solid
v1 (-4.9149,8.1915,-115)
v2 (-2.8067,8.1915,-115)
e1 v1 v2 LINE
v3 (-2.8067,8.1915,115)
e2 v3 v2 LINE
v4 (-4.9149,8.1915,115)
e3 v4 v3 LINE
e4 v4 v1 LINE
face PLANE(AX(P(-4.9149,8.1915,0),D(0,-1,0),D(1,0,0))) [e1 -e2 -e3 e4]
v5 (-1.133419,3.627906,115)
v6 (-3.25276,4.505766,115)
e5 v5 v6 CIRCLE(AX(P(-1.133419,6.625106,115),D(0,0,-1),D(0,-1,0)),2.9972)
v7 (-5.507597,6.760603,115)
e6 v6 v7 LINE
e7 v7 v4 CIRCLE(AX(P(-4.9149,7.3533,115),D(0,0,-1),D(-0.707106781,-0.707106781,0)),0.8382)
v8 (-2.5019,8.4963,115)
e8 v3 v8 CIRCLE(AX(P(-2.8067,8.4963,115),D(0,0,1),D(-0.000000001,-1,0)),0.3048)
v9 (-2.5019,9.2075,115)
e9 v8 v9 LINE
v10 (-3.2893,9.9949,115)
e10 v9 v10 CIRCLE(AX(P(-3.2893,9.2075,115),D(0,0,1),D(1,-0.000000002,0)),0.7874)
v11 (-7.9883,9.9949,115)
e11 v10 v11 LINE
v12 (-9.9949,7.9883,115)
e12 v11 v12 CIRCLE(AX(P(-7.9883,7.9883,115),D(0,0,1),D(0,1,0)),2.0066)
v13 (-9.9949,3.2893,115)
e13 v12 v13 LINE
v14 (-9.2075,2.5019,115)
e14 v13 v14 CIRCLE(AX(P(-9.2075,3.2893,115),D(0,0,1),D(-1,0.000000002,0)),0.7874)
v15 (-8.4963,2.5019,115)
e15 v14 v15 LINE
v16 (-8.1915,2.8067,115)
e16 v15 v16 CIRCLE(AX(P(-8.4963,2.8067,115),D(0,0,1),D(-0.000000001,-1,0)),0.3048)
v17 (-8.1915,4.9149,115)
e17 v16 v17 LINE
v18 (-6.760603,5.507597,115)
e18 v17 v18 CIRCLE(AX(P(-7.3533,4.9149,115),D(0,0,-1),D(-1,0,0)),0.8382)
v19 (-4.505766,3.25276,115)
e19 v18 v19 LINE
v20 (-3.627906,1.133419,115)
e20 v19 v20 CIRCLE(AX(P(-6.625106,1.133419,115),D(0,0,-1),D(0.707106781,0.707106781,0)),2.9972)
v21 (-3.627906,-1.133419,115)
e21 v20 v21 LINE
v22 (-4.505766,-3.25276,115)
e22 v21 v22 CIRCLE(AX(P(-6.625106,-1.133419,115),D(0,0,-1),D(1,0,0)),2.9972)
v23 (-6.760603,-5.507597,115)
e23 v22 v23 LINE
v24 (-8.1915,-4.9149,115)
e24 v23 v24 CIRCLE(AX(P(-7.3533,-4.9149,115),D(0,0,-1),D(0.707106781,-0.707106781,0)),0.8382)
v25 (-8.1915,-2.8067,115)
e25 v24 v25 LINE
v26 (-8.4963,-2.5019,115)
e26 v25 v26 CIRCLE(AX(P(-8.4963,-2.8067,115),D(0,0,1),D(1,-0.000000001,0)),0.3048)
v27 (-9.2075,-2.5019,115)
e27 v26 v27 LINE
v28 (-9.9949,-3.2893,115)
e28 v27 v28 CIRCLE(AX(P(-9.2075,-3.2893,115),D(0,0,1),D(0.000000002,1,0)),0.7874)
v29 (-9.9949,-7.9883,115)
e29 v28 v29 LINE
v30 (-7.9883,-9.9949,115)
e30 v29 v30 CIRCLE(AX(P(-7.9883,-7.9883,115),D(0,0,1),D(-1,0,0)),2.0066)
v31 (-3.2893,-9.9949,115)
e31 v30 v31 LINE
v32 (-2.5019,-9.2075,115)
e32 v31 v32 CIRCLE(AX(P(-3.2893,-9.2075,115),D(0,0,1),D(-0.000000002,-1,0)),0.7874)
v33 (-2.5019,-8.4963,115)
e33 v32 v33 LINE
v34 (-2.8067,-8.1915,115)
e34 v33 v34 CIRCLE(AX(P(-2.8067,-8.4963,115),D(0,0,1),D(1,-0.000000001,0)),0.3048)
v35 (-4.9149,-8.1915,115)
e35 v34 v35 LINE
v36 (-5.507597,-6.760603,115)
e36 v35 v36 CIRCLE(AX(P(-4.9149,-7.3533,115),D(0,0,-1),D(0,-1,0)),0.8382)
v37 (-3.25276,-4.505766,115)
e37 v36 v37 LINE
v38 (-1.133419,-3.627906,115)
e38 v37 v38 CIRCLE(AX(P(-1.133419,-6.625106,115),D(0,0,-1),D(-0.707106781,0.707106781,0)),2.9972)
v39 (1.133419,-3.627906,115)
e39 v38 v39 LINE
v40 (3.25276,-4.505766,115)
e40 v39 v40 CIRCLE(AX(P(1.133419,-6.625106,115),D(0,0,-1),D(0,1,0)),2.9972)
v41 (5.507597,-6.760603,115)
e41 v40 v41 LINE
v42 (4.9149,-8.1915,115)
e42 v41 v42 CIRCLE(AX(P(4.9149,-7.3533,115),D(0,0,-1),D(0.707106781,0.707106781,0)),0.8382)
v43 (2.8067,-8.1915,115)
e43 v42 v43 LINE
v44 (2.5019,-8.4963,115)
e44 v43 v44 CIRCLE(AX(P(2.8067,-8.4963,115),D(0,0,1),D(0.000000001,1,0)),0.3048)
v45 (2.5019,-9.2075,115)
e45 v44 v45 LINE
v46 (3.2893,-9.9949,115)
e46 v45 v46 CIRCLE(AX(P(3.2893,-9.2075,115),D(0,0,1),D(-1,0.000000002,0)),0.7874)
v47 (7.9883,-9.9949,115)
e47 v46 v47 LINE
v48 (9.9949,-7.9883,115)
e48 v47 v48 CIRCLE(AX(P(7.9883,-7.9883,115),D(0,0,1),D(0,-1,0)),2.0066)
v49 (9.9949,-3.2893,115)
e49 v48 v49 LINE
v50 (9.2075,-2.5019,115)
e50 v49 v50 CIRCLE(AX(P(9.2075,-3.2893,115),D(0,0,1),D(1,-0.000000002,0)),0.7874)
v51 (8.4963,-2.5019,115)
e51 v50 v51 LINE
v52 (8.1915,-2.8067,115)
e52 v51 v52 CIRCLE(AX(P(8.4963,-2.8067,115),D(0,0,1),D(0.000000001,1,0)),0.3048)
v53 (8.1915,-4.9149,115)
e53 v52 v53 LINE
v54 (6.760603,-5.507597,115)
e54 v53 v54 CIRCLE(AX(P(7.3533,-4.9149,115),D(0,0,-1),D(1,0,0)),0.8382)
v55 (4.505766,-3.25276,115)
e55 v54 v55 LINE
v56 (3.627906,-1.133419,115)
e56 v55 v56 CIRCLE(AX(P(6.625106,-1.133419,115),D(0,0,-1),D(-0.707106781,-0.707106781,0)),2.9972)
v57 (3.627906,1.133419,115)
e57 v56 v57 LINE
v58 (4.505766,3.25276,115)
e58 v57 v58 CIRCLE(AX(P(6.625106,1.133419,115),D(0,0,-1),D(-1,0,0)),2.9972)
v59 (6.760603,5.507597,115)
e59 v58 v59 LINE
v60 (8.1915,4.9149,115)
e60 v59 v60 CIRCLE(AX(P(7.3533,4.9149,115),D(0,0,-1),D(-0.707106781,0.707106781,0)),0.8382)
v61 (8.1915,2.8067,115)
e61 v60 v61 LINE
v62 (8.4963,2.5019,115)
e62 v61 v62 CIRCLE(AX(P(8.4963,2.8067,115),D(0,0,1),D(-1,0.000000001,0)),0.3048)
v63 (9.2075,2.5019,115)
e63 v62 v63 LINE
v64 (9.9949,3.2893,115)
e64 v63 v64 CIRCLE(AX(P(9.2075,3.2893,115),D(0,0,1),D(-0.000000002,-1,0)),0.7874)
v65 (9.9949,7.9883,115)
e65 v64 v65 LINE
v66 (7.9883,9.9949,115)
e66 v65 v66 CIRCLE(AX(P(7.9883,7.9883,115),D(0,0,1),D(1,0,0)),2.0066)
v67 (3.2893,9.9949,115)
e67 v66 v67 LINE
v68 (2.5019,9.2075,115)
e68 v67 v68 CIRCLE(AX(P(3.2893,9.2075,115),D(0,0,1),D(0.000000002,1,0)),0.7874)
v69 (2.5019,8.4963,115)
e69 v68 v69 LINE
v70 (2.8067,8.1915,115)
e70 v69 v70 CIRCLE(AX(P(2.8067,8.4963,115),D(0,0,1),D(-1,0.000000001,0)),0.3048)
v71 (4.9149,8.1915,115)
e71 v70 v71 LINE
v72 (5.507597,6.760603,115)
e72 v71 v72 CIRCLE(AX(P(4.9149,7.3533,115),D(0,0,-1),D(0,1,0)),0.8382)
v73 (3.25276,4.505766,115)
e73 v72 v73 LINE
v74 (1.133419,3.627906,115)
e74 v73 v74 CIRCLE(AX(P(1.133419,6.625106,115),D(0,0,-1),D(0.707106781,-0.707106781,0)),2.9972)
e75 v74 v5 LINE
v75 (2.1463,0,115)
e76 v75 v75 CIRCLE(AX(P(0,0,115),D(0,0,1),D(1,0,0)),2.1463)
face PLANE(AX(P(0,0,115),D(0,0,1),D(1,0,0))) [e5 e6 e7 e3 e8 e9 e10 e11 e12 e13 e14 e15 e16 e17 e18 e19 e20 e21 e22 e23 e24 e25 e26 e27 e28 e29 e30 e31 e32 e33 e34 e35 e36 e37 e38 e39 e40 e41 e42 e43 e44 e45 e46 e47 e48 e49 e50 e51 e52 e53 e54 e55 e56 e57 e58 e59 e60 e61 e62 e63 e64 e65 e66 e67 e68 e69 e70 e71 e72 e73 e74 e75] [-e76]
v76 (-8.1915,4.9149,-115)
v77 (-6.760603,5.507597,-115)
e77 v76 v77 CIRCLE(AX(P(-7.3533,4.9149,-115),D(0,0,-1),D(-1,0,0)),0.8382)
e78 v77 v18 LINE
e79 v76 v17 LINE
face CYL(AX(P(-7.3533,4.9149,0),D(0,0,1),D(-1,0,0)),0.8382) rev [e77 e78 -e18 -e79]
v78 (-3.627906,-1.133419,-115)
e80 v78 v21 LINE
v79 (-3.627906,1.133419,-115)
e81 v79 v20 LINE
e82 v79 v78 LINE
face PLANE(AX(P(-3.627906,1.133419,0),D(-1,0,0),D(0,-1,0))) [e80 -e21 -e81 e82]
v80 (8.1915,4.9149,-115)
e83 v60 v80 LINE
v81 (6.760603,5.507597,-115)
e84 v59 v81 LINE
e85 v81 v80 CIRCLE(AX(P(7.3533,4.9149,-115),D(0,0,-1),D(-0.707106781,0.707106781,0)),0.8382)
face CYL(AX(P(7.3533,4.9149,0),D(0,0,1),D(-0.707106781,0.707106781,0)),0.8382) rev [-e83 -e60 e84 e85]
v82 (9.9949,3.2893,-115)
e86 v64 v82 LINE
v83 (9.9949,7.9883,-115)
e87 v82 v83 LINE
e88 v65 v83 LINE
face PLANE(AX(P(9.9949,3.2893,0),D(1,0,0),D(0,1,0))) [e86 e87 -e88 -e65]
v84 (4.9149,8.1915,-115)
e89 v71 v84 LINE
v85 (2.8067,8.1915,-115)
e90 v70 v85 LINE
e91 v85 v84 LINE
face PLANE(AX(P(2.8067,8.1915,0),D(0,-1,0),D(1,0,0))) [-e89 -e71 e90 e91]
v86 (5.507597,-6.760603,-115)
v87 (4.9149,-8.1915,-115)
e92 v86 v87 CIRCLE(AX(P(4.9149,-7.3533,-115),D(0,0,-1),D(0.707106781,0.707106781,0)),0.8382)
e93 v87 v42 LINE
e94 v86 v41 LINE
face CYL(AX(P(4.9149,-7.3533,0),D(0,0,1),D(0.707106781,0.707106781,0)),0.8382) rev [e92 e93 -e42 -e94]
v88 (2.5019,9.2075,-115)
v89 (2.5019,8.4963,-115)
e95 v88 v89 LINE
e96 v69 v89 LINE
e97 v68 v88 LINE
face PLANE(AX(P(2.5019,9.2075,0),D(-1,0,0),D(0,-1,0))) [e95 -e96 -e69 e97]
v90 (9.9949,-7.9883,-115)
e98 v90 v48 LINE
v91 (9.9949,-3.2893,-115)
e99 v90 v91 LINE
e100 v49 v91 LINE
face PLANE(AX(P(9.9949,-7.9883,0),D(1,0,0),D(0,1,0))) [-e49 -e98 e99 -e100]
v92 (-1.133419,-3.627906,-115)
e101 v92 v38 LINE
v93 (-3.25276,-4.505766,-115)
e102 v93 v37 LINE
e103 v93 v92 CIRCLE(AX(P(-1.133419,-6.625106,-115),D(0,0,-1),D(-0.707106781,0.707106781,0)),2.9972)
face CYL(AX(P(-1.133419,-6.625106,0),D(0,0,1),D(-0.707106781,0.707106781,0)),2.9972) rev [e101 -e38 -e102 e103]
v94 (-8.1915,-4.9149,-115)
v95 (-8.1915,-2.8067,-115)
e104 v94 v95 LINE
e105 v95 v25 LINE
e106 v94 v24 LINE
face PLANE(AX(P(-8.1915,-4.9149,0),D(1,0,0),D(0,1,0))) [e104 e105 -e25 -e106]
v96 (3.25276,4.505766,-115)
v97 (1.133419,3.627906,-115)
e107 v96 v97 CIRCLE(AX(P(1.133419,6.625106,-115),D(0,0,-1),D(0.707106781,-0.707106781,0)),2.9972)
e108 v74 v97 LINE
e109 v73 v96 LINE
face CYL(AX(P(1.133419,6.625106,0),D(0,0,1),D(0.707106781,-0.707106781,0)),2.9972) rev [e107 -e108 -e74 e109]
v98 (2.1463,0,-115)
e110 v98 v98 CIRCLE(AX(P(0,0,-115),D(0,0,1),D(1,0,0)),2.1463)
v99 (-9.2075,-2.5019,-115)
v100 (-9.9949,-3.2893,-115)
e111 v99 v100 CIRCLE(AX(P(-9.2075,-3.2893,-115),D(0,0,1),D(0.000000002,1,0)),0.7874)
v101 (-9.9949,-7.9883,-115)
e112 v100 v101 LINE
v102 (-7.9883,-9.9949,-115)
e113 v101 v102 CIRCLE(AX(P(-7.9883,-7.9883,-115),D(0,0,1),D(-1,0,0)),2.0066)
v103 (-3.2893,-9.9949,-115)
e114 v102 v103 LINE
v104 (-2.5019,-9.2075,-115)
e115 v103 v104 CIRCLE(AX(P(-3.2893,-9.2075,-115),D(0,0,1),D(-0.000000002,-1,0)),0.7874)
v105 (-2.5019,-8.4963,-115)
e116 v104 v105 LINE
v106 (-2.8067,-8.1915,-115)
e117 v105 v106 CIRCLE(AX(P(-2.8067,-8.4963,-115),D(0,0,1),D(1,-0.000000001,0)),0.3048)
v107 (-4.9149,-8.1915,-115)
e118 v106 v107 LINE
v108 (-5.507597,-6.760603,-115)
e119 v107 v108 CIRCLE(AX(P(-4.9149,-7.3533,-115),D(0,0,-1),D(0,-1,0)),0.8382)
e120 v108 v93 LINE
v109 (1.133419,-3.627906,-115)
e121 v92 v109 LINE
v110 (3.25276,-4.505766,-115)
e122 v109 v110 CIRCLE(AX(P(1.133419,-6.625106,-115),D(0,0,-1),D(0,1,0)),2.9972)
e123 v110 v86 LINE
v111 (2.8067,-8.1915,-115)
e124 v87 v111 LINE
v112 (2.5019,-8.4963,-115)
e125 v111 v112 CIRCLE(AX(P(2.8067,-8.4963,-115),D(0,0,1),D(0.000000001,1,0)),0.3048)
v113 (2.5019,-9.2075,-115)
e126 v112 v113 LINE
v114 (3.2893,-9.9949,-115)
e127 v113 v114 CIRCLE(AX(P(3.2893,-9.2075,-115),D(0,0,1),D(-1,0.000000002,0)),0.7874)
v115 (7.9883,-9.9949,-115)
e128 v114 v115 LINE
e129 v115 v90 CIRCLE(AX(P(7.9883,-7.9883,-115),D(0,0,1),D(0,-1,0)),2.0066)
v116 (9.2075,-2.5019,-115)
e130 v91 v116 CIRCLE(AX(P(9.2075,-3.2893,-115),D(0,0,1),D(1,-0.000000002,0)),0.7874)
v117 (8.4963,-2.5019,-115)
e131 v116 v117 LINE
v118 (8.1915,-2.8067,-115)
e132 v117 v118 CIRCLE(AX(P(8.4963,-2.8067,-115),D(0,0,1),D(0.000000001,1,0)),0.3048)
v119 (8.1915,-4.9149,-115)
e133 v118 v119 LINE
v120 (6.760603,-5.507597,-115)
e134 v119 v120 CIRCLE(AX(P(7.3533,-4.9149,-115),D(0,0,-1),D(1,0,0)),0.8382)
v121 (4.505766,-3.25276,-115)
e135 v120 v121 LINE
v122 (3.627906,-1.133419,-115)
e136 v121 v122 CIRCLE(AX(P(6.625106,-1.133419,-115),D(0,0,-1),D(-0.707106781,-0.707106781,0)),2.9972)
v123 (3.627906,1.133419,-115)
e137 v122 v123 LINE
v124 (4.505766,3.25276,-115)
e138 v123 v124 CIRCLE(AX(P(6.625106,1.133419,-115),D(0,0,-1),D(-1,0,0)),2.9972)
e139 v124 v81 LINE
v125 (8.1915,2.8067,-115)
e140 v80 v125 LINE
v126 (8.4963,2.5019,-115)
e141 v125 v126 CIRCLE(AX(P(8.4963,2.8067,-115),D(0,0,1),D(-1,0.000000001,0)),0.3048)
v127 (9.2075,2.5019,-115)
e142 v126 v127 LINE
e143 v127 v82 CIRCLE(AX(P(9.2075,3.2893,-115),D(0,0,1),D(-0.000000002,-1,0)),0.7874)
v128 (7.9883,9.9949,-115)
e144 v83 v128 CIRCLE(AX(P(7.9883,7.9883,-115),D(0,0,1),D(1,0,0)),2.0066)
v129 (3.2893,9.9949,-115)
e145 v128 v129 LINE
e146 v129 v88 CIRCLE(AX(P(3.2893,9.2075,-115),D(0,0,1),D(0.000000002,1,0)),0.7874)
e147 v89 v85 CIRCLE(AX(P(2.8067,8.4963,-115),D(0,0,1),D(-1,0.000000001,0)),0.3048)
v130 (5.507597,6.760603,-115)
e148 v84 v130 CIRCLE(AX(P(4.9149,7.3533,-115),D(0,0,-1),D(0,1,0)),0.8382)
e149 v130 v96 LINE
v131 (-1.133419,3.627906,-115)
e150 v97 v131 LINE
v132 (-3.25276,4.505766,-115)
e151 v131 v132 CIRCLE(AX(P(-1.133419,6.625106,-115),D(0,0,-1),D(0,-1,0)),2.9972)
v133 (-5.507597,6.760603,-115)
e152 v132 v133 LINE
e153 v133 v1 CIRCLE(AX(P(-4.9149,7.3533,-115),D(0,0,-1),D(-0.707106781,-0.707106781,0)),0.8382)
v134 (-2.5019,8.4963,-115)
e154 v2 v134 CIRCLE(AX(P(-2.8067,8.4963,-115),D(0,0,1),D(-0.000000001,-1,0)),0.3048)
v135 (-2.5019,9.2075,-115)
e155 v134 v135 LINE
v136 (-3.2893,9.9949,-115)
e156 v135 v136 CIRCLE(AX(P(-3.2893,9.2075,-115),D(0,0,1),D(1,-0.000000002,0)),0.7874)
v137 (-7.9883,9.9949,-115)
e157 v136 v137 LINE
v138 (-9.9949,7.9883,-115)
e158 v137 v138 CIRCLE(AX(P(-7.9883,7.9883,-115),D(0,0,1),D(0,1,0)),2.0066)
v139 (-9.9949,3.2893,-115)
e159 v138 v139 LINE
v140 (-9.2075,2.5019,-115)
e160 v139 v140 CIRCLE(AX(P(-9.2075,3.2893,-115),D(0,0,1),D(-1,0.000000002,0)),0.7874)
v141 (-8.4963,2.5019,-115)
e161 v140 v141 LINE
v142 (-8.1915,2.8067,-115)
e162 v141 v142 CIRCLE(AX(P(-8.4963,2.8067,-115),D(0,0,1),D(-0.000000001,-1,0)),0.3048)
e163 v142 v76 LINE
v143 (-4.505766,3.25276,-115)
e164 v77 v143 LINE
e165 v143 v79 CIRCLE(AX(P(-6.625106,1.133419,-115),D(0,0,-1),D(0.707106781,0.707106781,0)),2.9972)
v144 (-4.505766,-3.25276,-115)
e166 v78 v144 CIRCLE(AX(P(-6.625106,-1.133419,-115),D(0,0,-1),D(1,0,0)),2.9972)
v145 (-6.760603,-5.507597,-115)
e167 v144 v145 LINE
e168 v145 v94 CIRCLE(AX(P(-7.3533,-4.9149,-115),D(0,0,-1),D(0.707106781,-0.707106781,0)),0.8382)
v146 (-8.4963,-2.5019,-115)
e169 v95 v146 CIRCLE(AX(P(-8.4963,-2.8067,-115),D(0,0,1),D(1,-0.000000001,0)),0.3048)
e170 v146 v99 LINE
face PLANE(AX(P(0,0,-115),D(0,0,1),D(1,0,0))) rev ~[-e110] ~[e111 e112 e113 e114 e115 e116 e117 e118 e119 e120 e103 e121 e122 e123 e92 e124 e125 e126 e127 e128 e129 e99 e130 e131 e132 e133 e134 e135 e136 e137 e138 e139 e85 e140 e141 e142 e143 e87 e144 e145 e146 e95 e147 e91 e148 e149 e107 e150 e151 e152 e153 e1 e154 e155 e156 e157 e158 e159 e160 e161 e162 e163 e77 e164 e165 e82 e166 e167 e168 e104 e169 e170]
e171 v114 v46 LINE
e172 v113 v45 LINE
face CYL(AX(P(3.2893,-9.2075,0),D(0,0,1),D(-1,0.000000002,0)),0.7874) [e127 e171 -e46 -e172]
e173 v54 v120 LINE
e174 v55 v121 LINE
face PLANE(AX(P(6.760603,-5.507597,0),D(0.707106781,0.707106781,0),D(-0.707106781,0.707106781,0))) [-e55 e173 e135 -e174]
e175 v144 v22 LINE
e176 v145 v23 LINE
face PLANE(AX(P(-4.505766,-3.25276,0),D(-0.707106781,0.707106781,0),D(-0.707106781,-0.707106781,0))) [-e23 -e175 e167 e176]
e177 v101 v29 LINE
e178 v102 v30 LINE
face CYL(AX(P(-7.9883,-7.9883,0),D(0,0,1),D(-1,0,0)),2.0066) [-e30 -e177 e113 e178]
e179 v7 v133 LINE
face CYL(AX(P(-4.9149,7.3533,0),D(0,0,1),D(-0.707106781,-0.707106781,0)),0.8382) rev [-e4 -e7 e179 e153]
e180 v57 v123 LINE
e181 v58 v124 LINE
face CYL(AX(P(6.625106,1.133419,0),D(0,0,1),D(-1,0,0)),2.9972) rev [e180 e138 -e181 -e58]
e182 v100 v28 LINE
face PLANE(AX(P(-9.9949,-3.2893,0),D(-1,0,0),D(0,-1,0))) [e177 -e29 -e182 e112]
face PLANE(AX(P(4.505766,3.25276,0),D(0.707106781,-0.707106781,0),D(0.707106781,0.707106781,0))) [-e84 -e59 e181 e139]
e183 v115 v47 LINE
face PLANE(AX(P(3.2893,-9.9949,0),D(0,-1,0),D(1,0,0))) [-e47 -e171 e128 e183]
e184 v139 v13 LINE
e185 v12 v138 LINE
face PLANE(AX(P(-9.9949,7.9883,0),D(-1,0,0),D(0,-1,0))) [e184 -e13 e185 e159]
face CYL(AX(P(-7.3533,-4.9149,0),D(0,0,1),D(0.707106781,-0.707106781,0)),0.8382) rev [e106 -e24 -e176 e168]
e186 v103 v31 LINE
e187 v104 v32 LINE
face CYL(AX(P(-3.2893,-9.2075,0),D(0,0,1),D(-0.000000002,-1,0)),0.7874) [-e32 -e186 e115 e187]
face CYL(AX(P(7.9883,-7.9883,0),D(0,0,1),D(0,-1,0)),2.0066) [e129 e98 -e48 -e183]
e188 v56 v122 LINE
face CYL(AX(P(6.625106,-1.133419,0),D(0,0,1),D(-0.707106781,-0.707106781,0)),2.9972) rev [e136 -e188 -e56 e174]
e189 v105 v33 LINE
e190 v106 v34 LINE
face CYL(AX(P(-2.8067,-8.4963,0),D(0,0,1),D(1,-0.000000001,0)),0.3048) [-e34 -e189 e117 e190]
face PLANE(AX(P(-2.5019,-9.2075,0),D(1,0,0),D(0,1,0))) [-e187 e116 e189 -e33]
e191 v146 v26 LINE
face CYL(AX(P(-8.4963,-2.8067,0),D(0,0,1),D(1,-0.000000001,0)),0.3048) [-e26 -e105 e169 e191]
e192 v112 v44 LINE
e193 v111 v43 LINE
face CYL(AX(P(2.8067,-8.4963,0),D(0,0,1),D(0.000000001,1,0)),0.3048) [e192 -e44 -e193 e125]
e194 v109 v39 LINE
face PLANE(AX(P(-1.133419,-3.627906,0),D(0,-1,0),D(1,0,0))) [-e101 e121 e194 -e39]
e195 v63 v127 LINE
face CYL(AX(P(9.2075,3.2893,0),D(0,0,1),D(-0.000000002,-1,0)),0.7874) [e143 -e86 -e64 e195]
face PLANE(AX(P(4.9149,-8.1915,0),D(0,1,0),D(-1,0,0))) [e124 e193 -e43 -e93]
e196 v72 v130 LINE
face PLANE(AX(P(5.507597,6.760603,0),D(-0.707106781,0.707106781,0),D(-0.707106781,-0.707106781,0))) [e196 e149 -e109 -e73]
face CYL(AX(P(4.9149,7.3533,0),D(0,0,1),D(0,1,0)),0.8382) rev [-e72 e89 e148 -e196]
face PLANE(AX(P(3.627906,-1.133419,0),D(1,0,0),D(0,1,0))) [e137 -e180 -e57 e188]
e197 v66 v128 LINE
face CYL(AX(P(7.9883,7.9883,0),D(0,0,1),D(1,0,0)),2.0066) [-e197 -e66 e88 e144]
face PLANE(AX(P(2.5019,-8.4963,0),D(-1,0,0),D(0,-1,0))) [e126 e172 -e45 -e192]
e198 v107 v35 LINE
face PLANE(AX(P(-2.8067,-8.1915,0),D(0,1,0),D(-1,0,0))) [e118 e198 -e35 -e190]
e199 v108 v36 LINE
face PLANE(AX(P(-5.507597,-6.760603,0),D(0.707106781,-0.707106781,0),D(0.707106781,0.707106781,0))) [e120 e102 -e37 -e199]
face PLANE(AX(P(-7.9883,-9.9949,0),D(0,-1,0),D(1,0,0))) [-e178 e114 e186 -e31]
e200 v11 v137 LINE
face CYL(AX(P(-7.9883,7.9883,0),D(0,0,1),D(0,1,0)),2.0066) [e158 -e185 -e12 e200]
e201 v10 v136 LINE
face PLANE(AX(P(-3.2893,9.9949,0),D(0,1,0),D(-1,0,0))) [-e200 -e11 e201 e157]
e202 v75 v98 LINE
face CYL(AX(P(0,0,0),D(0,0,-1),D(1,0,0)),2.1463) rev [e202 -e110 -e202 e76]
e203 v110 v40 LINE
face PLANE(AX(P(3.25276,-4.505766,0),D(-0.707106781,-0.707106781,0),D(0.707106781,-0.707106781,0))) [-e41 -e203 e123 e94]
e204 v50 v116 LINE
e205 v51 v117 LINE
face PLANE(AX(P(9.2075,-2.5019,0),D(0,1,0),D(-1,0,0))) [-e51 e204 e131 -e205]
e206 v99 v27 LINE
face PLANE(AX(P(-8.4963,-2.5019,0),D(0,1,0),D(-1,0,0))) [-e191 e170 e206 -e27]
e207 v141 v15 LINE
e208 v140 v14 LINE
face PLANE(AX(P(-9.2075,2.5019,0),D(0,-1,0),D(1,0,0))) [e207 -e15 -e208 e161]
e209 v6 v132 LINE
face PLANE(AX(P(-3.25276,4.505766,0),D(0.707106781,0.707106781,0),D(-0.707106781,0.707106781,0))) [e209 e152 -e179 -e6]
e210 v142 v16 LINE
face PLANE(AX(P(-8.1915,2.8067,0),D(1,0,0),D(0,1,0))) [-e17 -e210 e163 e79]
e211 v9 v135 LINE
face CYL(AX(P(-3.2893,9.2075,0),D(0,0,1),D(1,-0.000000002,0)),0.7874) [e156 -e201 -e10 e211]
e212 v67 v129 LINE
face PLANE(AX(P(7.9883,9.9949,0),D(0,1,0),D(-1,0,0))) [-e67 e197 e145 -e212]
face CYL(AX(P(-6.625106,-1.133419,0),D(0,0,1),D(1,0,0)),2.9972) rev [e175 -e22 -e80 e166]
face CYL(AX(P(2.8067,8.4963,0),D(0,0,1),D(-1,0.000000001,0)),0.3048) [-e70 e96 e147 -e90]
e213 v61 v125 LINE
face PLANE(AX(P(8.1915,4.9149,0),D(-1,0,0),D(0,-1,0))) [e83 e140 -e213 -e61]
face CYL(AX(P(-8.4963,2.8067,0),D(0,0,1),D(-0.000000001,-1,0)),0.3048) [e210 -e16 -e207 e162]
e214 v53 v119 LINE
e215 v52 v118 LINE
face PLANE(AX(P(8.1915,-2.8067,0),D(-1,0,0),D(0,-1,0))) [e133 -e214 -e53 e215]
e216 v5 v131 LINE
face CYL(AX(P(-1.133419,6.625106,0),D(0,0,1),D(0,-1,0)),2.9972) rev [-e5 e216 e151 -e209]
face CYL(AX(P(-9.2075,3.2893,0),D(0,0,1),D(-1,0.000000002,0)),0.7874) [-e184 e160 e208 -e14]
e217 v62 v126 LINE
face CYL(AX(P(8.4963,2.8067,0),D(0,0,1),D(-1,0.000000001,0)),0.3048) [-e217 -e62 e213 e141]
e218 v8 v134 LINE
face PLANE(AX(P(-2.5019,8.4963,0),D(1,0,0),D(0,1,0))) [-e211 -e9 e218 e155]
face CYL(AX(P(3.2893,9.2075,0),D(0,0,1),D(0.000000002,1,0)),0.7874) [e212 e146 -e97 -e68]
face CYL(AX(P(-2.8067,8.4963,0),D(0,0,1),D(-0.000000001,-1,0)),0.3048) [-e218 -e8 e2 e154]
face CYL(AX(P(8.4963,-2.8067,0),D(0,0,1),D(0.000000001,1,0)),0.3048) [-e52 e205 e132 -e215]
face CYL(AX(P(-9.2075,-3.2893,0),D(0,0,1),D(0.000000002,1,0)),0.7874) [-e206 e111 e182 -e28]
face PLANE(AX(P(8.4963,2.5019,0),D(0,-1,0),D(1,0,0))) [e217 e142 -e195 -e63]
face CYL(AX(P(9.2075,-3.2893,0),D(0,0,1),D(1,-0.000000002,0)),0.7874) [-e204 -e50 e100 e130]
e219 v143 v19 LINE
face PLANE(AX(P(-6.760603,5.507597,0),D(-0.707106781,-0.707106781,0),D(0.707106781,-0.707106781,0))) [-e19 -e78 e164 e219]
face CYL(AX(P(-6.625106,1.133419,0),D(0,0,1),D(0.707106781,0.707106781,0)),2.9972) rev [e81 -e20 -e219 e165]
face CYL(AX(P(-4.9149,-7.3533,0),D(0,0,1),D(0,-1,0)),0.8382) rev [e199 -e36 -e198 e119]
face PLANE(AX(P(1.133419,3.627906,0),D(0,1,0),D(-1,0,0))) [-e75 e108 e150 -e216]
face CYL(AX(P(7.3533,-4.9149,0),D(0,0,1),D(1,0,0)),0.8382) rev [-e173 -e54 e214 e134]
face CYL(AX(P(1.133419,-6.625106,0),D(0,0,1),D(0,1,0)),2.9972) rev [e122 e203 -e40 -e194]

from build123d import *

# Parameters (mm, degrees)
SKETCH1_R           = 2.1463
BOSS_EXTRUDE1_DEPTH = 115


with BuildPart() as part:
    # Sketch1 → Boss-Extrude1 (new, symmetric)
    with BuildSketch(Plane.XY):
        with BuildLine():
            Line((-9.9949, 7.9883), (-9.9949, 3.2893))
            ThreePointArc((-9.9949, 3.2893), (-9.76427588, 2.73252412), (-9.2075, 2.5019))
            Line((-9.2075, 2.5019), (-8.4963, 2.5019))
            ThreePointArc((-8.4963, 2.5019), (-8.280773853, 2.591173853), (-8.1915, 2.8067))
            Line((-8.1915, 2.8067), (-8.1915, 4.9149))
            ThreePointArc((-8.1915, 4.9149), (-7.674065253, 5.689295824), (-6.760603096, 5.507596904))
            Line((-6.760603096, 5.507596904), (-4.505765747, 3.252759555))
            ThreePointArc((-4.505765747, 3.252759555), (-3.856054457, 2.280397894), (-3.627906192, 1.133419111))
            Line((-3.627906192, 1.133419111), (-3.627906192, -1.133419111))
            ThreePointArc((-3.627906192, -1.133419111), (-3.856054457, -2.280397894), (-4.505765747, -3.252759555))
            Line((-4.505765747, -3.252759555), (-6.760603096, -5.507596904))
            ThreePointArc((-6.760603096, -5.507596904), (-7.674065253, -5.689295824), (-8.1915, -4.9149))
            Line((-8.1915, -4.9149), (-8.1915, -2.8067))
            ThreePointArc((-8.1915, -2.8067), (-8.280773853, -2.591173853), (-8.4963, -2.5019))
            Line((-8.4963, -2.5019), (-9.2075, -2.5019))
            ThreePointArc((-9.2075, -2.5019), (-9.76427588, -2.73252412), (-9.9949, -3.2893))
            Line((-9.9949, -3.2893), (-9.9949, -7.9883))
            ThreePointArc((-9.9949, -7.9883), (-9.407180467, -9.407180467), (-7.9883, -9.9949))
            Line((-7.9883, -9.9949), (-3.2893, -9.9949))
            ThreePointArc((-3.2893, -9.9949), (-2.73252412, -9.76427588), (-2.5019, -9.2075))
            Line((-2.5019, -9.2075), (-2.5019, -8.4963))
            ThreePointArc((-2.5019, -8.4963), (-2.591173853, -8.280773853), (-2.8067, -8.1915))
            Line((-2.8067, -8.1915), (-4.9149, -8.1915))
            ThreePointArc((-4.9149, -8.1915), (-5.689295824, -7.674065253), (-5.507596904, -6.760603096))
            Line((-5.507596904, -6.760603096), (-3.252759555, -4.505765747))
            ThreePointArc((-3.252759555, -4.505765747), (-2.280397894, -3.856054457), (-1.133419111, -3.627906192))
            Line((-1.133419111, -3.627906192), (1.133419111, -3.627906192))
            ThreePointArc((1.133419111, -3.627906192), (2.280397894, -3.856054457), (3.252759555, -4.505765747))
            Line((3.252759555, -4.505765747), (5.507596904, -6.760603096))
            ThreePointArc((5.507596904, -6.760603096), (5.689295824, -7.674065253), (4.9149, -8.1915))
            Line((4.9149, -8.1915), (2.8067, -8.1915))
            ThreePointArc((2.8067, -8.1915), (2.591173853, -8.280773853), (2.5019, -8.4963))
            Line((2.5019, -8.4963), (2.5019, -9.2075))
            ThreePointArc((2.5019, -9.2075), (2.73252412, -9.76427588), (3.2893, -9.9949))
            Line((3.2893, -9.9949), (7.9883, -9.9949))
            ThreePointArc((7.9883, -9.9949), (9.407180467, -9.407180467), (9.9949, -7.9883))
            Line((9.9949, -7.9883), (9.9949, -3.2893))
            ThreePointArc((9.9949, -3.2893), (9.76427588, -2.73252412), (9.2075, -2.5019))
            Line((9.2075, -2.5019), (8.4963, -2.5019))
            ThreePointArc((8.4963, -2.5019), (8.280773853, -2.591173853), (8.1915, -2.8067))
            Line((8.1915, -2.8067), (8.1915, -4.9149))
            ThreePointArc((8.1915, -4.9149), (7.674065253, -5.689295824), (6.760603096, -5.507596904))
            Line((6.760603096, -5.507596904), (4.505765747, -3.252759555))
            ThreePointArc((4.505765747, -3.252759555), (3.856054457, -2.280397894), (3.627906192, -1.133419111))
            Line((3.627906192, -1.133419111), (3.627906192, 1.133419111))
            ThreePointArc((3.627906192, 1.133419111), (3.856054457, 2.280397894), (4.505765747, 3.252759555))
            Line((4.505765747, 3.252759555), (6.760603096, 5.507596904))
            ThreePointArc((6.760603096, 5.507596904), (7.674065253, 5.689295824), (8.1915, 4.9149))
            Line((8.1915, 4.9149), (8.1915, 2.8067))
            ThreePointArc((8.1915, 2.8067), (8.280773853, 2.591173853), (8.4963, 2.5019))
            Line((8.4963, 2.5019), (9.2075, 2.5019))
            ThreePointArc((9.2075, 2.5019), (9.76427588, 2.73252412), (9.9949, 3.2893))
            Line((9.9949, 3.2893), (9.9949, 7.9883))
            ThreePointArc((9.9949, 7.9883), (9.407180467, 9.407180467), (7.9883, 9.9949))
            Line((7.9883, 9.9949), (3.2893, 9.9949))
            ThreePointArc((3.2893, 9.9949), (2.73252412, 9.76427588), (2.5019, 9.2075))
            Line((2.5019, 9.2075), (2.5019, 8.4963))
            ThreePointArc((2.5019, 8.4963), (2.591173853, 8.280773853), (2.8067, 8.1915))
            Line((2.8067, 8.1915), (4.9149, 8.1915))
            ThreePointArc((4.9149, 8.1915), (5.689295824, 7.674065253), (5.507596904, 6.760603096))
            Line((5.507596904, 6.760603096), (3.252759555, 4.505765747))
            ThreePointArc((3.252759555, 4.505765747), (2.280397894, 3.856054457), (1.133419111, 3.627906192))
            Line((1.133419111, 3.627906192), (-1.133419111, 3.627906192))
            ThreePointArc((-1.133419111, 3.627906192), (-2.280397894, 3.856054457), (-3.252759555, 4.505765747))
            Line((-3.252759555, 4.505765747), (-5.507596904, 6.760603096))
            ThreePointArc((-5.507596904, 6.760603096), (-5.689295824, 7.674065253), (-4.9149, 8.1915))
            Line((-4.9149, 8.1915), (-2.8067, 8.1915))
            ThreePointArc((-2.8067, 8.1915), (-2.591173853, 8.280773853), (-2.5019, 8.4963))
            Line((-2.5019, 8.4963), (-2.5019, 9.2075))
            ThreePointArc((-2.5019, 9.2075), (-2.73252412, 9.76427588), (-3.2893, 9.9949))
            Line((-3.2893, 9.9949), (-7.9883, 9.9949))
            ThreePointArc((-7.9883, 9.9949), (-9.407180467, 9.407180467), (-9.9949, 7.9883))
        make_face()
        Circle(SKETCH1_R, mode=Mode.SUBTRACT)
    extrude(amount=BOSS_EXTRUDE1_DEPTH, both=True)


solid = part.part
